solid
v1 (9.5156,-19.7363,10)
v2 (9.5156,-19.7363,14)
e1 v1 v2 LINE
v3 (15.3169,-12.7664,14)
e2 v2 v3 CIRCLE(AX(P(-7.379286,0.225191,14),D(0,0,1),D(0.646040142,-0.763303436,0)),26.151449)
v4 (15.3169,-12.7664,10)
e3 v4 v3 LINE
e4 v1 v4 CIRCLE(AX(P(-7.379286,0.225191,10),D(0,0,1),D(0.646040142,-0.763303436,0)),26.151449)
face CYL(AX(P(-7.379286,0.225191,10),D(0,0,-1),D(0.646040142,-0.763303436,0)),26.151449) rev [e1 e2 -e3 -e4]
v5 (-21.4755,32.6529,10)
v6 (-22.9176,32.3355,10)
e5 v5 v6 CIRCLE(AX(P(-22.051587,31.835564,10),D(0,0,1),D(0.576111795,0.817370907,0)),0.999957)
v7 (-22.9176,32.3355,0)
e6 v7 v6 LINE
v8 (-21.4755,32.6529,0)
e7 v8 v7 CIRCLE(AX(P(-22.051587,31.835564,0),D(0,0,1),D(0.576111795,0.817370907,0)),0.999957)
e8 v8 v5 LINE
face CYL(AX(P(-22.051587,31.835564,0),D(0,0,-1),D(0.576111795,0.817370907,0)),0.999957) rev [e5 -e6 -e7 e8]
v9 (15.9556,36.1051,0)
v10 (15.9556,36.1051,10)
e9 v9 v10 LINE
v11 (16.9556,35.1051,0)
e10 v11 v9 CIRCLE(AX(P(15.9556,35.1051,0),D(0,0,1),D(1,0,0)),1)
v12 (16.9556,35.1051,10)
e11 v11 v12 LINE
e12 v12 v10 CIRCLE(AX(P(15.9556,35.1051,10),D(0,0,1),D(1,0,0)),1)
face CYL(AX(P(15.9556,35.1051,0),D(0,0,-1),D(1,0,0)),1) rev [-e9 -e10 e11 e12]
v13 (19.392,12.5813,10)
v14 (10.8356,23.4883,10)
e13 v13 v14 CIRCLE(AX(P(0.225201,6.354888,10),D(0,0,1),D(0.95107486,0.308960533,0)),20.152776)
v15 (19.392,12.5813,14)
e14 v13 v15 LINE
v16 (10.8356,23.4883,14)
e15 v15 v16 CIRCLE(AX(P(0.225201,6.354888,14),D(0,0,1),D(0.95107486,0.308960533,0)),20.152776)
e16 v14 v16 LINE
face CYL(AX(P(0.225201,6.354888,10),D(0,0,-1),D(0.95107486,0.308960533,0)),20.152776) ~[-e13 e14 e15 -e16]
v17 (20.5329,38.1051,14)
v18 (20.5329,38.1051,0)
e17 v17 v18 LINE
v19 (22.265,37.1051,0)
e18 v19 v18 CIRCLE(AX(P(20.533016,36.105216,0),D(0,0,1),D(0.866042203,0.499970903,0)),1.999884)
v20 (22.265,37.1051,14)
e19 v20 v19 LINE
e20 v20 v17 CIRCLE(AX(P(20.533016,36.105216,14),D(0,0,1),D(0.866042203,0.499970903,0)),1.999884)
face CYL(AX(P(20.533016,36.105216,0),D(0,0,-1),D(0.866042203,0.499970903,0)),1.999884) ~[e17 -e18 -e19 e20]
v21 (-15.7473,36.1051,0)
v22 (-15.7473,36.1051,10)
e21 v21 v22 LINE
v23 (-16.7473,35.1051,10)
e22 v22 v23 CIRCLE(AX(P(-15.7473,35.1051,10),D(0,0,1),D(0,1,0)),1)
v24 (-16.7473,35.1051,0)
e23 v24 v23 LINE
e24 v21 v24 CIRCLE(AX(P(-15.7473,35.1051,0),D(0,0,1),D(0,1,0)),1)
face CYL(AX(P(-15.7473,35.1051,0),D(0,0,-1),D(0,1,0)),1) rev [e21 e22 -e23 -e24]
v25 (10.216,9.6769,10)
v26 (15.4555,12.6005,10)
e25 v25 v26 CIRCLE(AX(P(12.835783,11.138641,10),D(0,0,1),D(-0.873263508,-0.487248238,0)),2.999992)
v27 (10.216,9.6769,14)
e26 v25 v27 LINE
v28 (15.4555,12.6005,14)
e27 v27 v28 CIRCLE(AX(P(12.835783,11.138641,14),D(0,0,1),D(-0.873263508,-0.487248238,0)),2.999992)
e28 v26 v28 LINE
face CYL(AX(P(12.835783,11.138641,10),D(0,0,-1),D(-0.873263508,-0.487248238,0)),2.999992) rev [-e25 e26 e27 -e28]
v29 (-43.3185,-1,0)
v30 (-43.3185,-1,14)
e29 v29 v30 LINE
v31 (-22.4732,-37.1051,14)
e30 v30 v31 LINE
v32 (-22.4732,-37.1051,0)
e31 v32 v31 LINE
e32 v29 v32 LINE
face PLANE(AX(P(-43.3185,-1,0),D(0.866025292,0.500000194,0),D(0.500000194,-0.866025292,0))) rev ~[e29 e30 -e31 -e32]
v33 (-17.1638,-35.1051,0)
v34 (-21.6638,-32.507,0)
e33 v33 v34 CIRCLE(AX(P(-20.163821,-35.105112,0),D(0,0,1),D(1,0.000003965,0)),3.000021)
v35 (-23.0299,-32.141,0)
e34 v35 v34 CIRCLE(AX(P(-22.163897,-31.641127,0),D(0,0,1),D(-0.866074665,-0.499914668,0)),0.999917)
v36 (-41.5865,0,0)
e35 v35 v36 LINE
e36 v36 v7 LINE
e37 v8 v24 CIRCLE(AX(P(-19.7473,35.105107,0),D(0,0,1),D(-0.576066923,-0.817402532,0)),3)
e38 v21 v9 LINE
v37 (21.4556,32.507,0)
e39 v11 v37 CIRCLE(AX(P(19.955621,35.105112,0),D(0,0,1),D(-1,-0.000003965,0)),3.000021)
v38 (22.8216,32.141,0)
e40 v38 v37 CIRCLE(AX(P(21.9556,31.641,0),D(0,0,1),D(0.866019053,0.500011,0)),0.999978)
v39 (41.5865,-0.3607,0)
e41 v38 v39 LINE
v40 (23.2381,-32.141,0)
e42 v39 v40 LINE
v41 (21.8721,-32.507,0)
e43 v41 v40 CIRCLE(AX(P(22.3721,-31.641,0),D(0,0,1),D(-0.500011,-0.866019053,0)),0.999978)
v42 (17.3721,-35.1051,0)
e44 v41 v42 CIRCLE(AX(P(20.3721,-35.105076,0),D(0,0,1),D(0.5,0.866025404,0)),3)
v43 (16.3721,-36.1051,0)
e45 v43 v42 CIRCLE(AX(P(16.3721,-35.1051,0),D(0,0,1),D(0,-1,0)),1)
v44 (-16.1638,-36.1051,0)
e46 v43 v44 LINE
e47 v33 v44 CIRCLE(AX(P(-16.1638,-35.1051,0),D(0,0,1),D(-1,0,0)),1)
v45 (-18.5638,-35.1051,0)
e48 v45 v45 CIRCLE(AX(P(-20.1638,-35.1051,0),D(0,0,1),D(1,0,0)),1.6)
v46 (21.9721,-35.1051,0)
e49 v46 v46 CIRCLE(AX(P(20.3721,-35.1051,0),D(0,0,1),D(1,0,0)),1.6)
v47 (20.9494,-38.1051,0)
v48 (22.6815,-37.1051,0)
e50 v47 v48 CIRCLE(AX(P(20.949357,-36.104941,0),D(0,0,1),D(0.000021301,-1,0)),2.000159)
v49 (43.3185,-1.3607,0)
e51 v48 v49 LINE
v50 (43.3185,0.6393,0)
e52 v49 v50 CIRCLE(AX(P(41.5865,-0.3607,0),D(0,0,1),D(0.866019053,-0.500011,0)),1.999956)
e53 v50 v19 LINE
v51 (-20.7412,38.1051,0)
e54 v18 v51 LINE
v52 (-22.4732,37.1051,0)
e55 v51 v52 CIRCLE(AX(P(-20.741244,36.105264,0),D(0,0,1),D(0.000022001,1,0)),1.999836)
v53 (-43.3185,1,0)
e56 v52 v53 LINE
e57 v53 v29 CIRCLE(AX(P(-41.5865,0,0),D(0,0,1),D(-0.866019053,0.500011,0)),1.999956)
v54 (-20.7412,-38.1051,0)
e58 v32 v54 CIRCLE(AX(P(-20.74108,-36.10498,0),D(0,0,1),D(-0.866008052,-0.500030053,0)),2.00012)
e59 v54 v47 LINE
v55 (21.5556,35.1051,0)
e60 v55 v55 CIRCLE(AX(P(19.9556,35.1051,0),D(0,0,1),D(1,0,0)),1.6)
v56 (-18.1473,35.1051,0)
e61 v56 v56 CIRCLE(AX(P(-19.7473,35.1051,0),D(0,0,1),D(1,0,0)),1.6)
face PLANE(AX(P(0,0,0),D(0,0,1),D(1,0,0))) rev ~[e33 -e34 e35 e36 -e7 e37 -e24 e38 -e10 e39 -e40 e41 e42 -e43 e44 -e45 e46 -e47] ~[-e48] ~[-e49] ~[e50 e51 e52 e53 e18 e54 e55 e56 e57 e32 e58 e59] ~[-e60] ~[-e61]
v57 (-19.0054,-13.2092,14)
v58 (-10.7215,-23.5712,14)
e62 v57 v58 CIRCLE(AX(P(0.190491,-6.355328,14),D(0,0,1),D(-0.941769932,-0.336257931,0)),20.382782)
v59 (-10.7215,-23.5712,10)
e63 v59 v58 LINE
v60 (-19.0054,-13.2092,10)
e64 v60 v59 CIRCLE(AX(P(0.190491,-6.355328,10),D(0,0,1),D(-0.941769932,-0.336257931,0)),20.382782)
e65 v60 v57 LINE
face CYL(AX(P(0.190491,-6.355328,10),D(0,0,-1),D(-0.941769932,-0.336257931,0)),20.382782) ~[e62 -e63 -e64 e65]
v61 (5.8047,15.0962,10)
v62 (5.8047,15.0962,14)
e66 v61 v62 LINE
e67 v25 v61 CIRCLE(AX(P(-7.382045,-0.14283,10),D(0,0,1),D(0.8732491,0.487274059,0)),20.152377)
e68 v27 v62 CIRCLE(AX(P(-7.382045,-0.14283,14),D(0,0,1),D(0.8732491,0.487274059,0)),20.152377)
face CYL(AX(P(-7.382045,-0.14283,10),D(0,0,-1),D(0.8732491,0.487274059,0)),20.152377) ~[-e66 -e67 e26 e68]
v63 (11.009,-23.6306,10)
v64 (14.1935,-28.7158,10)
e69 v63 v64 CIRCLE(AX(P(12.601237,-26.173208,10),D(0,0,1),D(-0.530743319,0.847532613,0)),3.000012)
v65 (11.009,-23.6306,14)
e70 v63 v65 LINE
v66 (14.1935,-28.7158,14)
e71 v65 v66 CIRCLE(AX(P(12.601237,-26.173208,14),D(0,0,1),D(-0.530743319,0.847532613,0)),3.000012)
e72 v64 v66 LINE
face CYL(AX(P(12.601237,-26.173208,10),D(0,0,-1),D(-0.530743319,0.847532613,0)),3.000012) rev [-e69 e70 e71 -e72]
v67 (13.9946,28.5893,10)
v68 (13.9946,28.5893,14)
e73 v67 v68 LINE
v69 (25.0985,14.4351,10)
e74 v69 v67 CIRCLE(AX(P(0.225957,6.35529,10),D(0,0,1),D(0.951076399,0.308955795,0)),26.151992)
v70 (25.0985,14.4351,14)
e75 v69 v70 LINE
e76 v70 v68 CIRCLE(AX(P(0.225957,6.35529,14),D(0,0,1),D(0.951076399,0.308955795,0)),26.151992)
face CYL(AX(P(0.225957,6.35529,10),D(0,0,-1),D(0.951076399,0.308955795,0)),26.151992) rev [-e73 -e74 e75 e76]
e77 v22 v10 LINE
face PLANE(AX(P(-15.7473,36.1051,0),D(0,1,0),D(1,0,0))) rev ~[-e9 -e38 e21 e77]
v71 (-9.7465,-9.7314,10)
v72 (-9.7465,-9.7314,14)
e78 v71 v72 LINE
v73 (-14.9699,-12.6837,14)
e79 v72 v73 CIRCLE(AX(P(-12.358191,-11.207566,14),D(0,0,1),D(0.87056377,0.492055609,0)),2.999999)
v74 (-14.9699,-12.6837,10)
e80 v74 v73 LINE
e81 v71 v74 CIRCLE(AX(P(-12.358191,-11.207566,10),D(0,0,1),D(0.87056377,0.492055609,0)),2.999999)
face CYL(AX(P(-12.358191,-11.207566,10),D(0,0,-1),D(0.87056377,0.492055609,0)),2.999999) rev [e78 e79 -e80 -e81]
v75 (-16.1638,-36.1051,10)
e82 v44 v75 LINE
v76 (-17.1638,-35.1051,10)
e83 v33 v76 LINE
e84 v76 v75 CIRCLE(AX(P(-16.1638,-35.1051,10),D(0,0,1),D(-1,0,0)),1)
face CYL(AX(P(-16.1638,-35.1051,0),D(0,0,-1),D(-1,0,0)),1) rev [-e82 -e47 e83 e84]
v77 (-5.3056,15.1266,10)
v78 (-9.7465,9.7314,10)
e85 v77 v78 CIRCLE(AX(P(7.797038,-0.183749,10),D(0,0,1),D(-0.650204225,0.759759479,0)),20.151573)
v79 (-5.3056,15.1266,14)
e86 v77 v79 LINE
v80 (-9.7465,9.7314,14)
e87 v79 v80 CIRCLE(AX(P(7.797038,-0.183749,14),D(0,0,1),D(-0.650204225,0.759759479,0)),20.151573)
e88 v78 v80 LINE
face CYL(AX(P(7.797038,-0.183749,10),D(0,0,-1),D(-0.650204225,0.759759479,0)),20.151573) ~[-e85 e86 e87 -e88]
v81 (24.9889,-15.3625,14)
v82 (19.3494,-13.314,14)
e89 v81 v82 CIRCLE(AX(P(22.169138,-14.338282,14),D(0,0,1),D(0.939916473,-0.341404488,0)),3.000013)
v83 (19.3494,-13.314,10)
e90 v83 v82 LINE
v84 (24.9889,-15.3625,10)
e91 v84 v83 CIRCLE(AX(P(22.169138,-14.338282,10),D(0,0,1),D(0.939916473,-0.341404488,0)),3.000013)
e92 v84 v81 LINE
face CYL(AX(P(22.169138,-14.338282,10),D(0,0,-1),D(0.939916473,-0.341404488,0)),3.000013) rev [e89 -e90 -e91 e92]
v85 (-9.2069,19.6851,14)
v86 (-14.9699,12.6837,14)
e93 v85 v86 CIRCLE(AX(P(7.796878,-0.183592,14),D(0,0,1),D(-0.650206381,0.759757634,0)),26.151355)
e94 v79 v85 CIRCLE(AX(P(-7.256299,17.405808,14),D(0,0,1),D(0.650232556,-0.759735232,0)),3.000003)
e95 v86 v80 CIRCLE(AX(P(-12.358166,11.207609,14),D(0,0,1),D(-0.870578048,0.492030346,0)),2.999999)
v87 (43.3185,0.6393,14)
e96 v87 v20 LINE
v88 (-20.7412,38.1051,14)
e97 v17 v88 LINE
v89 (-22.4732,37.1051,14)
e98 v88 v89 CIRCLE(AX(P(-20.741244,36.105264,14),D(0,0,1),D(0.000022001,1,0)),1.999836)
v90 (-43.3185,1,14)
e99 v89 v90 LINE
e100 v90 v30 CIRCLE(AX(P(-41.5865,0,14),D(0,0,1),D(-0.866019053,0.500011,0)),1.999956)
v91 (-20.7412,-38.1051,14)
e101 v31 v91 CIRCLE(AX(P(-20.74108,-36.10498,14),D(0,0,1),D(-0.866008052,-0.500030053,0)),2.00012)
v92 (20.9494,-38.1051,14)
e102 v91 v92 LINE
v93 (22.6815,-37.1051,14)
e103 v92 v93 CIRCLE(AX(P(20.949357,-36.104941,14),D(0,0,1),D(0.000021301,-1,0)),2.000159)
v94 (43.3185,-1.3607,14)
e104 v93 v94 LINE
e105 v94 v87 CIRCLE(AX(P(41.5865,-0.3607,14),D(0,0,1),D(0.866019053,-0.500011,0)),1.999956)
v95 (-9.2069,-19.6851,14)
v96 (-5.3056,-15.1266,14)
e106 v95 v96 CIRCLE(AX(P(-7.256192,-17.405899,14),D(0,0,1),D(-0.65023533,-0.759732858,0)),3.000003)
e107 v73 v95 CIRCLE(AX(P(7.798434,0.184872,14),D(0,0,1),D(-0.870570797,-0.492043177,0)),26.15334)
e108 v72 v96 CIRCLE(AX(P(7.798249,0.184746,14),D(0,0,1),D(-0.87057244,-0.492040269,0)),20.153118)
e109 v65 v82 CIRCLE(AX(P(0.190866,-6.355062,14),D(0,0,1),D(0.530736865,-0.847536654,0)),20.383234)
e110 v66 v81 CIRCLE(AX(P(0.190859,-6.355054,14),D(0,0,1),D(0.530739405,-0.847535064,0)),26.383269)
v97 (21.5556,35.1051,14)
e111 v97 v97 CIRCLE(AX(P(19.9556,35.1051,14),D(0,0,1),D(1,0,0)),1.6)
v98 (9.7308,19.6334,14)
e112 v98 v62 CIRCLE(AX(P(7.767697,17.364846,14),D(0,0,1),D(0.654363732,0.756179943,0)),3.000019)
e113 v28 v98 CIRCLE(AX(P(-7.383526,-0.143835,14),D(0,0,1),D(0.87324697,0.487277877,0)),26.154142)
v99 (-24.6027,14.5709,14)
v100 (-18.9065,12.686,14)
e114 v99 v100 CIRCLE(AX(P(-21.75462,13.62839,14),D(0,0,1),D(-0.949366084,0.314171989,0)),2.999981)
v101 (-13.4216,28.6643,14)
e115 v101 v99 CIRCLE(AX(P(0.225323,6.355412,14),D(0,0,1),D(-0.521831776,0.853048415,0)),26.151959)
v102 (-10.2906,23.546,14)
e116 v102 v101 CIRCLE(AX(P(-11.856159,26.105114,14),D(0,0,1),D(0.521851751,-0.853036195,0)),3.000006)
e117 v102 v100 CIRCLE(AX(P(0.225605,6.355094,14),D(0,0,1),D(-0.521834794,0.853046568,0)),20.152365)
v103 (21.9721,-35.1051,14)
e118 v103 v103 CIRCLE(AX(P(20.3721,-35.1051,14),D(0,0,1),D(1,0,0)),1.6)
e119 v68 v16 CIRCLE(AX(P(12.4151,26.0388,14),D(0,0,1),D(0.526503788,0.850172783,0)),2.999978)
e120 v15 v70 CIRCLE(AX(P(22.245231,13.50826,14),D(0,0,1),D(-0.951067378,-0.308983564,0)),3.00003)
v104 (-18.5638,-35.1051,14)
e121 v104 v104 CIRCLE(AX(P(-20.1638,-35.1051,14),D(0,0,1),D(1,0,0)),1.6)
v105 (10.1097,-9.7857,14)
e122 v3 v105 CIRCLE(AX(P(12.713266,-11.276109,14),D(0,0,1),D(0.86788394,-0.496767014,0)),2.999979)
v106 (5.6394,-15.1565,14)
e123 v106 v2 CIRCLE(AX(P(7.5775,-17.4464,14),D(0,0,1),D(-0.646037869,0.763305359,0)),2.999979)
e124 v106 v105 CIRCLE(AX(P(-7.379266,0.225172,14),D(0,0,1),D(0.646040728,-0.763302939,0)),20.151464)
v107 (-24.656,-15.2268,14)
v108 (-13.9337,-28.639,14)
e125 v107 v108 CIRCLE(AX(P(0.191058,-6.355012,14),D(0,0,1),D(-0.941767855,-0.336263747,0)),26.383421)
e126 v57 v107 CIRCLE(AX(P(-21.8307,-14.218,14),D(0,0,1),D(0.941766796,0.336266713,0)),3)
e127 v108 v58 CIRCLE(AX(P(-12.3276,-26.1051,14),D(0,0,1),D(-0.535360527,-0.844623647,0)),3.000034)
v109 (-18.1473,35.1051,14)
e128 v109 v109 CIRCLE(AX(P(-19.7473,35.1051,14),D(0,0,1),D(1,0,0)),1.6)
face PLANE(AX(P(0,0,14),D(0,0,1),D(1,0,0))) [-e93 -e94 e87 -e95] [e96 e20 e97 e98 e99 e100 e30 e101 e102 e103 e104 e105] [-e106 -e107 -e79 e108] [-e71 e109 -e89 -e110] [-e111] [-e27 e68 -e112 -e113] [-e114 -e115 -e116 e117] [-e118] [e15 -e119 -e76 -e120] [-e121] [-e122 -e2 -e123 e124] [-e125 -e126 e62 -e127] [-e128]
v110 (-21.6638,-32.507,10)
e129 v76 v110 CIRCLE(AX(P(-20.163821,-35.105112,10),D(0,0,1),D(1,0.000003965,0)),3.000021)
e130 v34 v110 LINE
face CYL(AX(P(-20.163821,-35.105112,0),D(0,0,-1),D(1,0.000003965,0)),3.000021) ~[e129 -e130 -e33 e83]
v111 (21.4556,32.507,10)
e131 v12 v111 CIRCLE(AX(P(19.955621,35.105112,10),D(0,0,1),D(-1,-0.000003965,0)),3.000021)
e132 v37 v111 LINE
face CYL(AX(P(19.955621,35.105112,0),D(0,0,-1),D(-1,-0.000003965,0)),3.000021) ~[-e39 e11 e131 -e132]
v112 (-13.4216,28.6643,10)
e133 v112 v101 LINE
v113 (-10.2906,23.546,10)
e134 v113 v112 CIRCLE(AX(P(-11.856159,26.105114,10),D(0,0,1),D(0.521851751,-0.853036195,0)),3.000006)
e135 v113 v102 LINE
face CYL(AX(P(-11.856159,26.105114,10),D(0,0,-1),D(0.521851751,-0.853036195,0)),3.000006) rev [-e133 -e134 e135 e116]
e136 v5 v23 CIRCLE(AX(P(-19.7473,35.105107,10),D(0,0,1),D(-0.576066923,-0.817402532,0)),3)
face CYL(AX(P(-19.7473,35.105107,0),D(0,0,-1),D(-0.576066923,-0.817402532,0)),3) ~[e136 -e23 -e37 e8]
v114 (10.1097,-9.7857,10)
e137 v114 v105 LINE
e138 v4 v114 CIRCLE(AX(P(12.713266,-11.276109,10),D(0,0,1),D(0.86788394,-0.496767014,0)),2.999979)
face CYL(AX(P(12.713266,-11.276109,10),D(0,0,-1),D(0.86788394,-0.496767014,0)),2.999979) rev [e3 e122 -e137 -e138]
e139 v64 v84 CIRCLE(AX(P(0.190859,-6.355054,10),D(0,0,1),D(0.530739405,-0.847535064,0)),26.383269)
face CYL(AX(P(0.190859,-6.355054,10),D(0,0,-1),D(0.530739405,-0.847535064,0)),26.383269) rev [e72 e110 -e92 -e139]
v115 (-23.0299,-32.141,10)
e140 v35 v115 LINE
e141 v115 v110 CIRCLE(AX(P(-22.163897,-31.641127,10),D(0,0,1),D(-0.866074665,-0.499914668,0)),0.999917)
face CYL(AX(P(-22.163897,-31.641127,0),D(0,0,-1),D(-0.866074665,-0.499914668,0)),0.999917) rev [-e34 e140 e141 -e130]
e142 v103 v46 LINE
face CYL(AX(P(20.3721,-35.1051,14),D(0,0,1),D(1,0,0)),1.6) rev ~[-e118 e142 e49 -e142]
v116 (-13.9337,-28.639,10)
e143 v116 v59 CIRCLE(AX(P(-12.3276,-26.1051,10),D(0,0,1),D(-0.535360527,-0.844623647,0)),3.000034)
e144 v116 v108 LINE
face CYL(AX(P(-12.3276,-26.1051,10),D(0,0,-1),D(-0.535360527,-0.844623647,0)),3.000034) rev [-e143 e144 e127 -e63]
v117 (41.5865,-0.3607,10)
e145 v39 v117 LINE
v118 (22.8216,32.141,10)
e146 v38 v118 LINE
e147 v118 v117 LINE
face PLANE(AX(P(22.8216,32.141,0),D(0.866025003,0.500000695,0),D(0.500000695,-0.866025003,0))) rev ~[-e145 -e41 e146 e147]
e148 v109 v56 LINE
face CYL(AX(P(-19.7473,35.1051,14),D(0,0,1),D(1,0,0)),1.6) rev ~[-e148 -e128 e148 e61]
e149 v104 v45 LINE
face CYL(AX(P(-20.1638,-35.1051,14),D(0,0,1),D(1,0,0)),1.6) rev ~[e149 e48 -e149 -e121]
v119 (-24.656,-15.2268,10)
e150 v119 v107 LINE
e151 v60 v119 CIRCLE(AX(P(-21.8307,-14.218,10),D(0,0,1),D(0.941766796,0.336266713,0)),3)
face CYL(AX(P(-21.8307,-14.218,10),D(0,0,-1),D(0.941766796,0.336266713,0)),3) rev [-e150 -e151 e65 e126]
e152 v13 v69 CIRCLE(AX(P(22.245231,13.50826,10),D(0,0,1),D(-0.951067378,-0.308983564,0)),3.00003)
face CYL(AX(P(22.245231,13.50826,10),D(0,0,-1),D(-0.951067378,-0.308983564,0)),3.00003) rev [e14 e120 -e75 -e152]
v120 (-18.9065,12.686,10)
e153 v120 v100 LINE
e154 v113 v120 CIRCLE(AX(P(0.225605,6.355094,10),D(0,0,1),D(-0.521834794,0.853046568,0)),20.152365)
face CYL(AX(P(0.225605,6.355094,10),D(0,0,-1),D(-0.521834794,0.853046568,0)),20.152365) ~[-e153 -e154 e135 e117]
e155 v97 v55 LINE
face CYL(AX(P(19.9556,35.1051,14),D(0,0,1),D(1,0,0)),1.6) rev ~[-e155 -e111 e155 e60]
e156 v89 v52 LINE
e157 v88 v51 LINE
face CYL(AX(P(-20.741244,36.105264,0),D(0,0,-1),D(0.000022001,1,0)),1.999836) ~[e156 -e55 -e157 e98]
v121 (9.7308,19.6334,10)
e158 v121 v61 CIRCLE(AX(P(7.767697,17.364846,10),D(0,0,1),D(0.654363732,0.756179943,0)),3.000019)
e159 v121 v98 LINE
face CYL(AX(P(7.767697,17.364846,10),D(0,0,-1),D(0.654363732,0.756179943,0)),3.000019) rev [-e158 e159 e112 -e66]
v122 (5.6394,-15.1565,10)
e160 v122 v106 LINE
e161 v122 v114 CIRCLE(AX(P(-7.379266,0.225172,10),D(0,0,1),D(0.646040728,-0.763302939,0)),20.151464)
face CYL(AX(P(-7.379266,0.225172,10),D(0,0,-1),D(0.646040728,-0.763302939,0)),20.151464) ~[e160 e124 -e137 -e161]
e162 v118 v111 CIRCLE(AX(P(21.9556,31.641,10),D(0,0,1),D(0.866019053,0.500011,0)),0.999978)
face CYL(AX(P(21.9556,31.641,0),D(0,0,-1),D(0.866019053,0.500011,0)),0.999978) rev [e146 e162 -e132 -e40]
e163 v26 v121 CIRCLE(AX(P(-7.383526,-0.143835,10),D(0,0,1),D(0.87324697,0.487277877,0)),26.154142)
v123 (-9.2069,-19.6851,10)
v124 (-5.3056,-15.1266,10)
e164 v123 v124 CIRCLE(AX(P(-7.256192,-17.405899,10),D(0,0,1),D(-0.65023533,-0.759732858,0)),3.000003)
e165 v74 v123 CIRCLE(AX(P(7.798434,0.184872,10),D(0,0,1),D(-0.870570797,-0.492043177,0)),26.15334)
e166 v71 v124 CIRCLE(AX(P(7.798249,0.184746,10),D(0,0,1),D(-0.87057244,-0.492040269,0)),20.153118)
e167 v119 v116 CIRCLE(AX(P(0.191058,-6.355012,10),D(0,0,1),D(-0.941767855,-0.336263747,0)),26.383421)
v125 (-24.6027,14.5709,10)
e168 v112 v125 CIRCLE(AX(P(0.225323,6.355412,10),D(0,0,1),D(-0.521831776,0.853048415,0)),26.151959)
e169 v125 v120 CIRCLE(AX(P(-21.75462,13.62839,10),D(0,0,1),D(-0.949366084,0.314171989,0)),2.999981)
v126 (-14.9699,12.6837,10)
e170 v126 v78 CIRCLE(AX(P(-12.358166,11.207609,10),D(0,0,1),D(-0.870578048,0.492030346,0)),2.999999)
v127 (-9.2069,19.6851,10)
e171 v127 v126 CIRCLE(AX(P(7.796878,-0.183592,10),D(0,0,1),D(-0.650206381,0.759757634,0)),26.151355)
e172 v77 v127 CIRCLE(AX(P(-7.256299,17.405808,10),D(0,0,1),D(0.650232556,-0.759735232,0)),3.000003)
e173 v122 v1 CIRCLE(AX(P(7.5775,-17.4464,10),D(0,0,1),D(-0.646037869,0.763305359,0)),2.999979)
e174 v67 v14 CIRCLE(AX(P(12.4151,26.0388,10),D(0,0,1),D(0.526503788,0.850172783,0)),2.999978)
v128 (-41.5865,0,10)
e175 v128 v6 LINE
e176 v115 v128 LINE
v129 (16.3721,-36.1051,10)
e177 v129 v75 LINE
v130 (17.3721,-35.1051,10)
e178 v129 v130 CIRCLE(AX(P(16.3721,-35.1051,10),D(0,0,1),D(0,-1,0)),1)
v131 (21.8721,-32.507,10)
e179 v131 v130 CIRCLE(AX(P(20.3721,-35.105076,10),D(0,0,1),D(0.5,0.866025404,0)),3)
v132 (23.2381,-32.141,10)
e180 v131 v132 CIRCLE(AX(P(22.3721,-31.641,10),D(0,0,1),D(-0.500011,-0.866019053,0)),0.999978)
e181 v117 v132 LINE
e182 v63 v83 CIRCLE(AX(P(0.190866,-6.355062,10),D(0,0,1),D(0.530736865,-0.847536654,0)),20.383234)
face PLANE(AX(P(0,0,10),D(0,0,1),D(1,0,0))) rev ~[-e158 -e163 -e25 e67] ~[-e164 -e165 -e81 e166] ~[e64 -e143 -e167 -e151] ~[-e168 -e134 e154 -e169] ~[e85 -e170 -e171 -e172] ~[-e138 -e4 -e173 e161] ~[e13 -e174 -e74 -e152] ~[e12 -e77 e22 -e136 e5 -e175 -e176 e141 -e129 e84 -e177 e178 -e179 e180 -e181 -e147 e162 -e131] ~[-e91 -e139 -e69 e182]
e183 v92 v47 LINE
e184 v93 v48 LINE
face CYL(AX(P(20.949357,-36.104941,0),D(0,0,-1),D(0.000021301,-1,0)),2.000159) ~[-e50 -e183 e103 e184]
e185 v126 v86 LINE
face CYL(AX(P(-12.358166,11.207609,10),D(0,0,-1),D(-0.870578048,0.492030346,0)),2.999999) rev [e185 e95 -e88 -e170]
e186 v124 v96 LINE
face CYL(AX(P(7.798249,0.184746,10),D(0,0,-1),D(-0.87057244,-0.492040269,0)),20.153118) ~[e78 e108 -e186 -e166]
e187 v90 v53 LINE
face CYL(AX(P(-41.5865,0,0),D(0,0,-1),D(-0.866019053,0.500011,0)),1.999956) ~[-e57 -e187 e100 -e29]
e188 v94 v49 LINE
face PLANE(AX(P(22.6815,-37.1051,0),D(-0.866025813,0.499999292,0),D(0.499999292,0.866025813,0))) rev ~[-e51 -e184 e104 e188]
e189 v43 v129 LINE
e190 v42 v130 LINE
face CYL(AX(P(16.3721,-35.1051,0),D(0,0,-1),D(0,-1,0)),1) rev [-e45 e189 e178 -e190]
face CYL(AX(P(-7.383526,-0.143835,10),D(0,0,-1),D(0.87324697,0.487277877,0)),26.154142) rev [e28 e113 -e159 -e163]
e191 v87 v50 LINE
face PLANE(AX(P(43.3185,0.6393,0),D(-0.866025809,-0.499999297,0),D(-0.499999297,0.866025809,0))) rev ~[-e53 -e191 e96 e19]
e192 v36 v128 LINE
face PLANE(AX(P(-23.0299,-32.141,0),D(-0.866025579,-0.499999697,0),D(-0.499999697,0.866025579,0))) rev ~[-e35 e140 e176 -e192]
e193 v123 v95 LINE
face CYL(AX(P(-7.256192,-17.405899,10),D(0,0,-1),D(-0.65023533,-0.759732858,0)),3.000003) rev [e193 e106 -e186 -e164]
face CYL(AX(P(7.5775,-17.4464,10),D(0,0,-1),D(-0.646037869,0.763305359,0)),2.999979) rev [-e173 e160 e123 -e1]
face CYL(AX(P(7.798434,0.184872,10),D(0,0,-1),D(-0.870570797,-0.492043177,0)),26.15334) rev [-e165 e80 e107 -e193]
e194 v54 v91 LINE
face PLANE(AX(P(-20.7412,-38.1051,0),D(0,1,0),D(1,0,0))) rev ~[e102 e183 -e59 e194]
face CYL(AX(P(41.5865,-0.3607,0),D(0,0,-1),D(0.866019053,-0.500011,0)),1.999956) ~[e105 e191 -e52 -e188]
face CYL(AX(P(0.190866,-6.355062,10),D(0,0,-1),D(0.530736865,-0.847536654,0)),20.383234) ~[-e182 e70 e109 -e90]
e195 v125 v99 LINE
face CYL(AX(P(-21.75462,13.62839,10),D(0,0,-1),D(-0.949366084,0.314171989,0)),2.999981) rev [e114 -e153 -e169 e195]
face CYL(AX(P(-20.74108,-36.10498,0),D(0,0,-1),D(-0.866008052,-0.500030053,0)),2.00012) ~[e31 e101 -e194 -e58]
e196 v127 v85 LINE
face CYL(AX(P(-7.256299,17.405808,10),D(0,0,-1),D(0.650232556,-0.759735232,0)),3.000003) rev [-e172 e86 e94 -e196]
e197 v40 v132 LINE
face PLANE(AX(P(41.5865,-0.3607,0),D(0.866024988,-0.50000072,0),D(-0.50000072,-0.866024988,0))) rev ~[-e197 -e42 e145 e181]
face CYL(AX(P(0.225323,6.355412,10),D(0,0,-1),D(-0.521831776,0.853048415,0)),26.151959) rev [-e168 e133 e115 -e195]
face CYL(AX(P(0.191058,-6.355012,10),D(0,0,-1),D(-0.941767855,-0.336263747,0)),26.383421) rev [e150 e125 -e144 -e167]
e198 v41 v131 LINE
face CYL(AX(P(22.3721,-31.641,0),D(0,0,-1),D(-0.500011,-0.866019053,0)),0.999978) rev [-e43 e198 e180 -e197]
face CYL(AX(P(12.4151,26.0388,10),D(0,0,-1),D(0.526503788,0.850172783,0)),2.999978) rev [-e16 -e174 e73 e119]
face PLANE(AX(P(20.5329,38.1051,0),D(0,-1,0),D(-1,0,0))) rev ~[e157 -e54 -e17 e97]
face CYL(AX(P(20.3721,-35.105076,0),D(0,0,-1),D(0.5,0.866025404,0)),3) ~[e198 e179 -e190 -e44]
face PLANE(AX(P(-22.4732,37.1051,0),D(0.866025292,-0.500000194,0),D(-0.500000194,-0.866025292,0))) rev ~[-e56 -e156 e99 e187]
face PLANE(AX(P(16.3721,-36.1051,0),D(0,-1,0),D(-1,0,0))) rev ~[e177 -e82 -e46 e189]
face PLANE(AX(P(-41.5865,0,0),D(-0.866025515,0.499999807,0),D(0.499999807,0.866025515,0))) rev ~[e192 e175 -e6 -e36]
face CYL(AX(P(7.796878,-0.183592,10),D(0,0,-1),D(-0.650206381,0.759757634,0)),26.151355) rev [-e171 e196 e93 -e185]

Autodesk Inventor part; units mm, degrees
ref_plane "YZ Plane" through (0, 0, 0) normal (1, 0, 0) x (0, 1, 0)
ref_plane "XZ Plane" through (0, 0, 0) normal (0, 1, 0) x (-1, 0, 0)
ref_plane "XY Plane" through (0, 0, 0) normal (0, 0, 1) x (1, 0, 0)
sketch "Sketch1" plane through (0, 0, 0) normal (0, 0, 1) x (1, 0, 0)
  circle A0 centre (-20.1638, -35.1051) radius 1.25 projected
  circle A1 centre (19.9556, 35.1051) radius 1.25 projected
  circle A2 centre (20.3721, -35.1051) radius 1.25 projected
  circle A3 centre (-19.7473, 35.1051) radius 1.25 projected
  arc A4 (-17.1638, -35.1051) -> (-21.6638, -32.507) centre (-20.1638, -35.1051) ccw projected
  arc A5 (-23.0299, -32.141) -> (-21.6638, -32.507) centre (-22.1638, -31.641) ccw projected
  line L0 (-23.0299, -32.141) -> (-41.5865, 0) projected
  line L1 (-41.5865, 0) -> (-22.9176, 32.3355) projected
  arc A6 (-21.4755, 32.6529) -> (-22.9176, 32.3355) centre (-22.0516, 31.8355) ccw projected
  arc A7 (-21.4755, 32.6529) -> (-16.7473, 35.1051) centre (-19.7473, 35.1051) ccw projected
  arc A8 (-15.7473, 36.1051) -> (-16.7473, 35.1051) centre (-15.7473, 35.1051) ccw projected
  line L2 (-15.7473, 36.1051) -> (15.9556, 36.1051) projected
  arc A9 (16.9556, 35.1051) -> (15.9556, 36.1051) centre (15.9556, 35.1051) ccw projected
  arc A10 (16.9556, 35.1051) -> (21.4556, 32.507) centre (19.9556, 35.1051) ccw projected
  arc A11 (22.8216, 32.141) -> (21.4556, 32.507) centre (21.9556, 31.641) ccw projected
  line L3 (22.8216, 32.141) -> (41.5865, -0.3607) projected
  line L4 (41.5865, -0.3607) -> (23.2381, -32.141) projected
  arc A12 (21.8721, -32.507) -> (23.2381, -32.141) centre (22.3721, -31.641) ccw projected
  arc A13 (21.8721, -32.507) -> (17.3721, -35.1051) centre (20.3721, -35.1051) ccw projected
  arc A14 (16.3721, -36.1051) -> (17.3721, -35.1051) centre (16.3721, -35.1051) ccw projected
  line L5 (16.3721, -36.1051) -> (-16.1638, -36.1051) projected
  arc A15 (-17.1638, -35.1051) -> (-16.1638, -36.1051) centre (-16.1638, -35.1051) ccw projected
  line L6 (-43.3185, -1) -> (-22.4732, -37.1051) projected
  arc A16 (-22.4732, -37.1051) -> (-20.7412, -38.1051) centre (-20.7412, -36.1051) ccw projected
  line L7 (-20.7412, -38.1051) -> (20.9494, -38.1051) projected
  arc A17 (20.9494, -38.1051) -> (22.6815, -37.1051) centre (20.9494, -36.1051) ccw projected
  line L8 (22.6815, -37.1051) -> (43.3185, -1.3607) projected
  arc A18 (43.3185, -1.3607) -> (43.3185, 0.6393) centre (41.5865, -0.3607) ccw projected
  line L9 (43.3185, 0.6393) -> (22.265, 37.1051) projected
  arc A19 (22.265, 37.1051) -> (20.5329, 38.1051) centre (20.5329, 36.1051) ccw projected
  line L10 (20.5329, 38.1051) -> (-20.7412, 38.1051) projected
  arc A20 (-20.7412, 38.1051) -> (-22.4732, 37.1051) centre (-20.7412, 36.1051) ccw projected
  line L11 (-22.4732, 37.1051) -> (-43.3185, 1) projected
  arc A21 (-43.3185, 1) -> (-43.3185, -1) centre (-41.5865, 0) ccw projected
  point P0 (0, 0)
extrude "Extrusion1" add sketch "Sketch1" along normal blind 10
sketch "Sketch2" plane through (0, 0, 10) normal (0, 0, 1) x (1, 0, 0)
  arc A0 (19.392, 12.5813) -> (25.0985, 14.4351) centre (22.2452, 13.5082) ccw projected
  arc A1 (19.392, 12.5813) -> (10.8356, 23.4883) centre (0.2256, 6.3551) ccw projected
  arc A2 (13.9946, 28.5893) -> (10.8356, 23.4883) centre (12.4151, 26.0388) ccw projected
  arc A3 (25.0985, 14.4351) -> (13.9946, 28.5893) centre (0.2256, 6.3551) ccw projected
  arc A4 (-19.0054, -13.2092) -> (-24.656, -15.2268) centre (-21.8307, -14.218) ccw projected
  arc A5 (-19.0054, -13.2092) -> (-10.7215, -23.5712) centre (0.1909, -6.3551) ccw projected
  arc A6 (-13.9337, -28.639) -> (-10.7215, -23.5712) centre (-12.3276, -26.1051) ccw projected
  arc A7 (-24.656, -15.2268) -> (-13.9337, -28.639) centre (0.1909, -6.3551) ccw projected
  arc A8 (10.216, 9.6769) -> (15.4555, 12.6005) centre (12.8358, 11.1387) ccw projected
  arc A9 (10.216, 9.6769) -> (5.8047, 15.0962) centre (-7.382, -0.1428) ccw projected
  arc A10 (9.7308, 19.6334) -> (5.8047, 15.0962) centre (7.7677, 17.3648) ccw projected
  arc A11 (15.4555, 12.6005) -> (9.7308, 19.6334) centre (-7.382, -0.1428) ccw projected
  arc A12 (-5.3056, 15.1266) -> (-9.2069, 19.6851) centre (-7.2562, 17.4058) ccw projected
  arc A13 (-5.3056, 15.1266) -> (-9.7465, 9.7314) centre (7.7976, -0.1843) ccw projected
  arc A14 (-14.9699, 12.6837) -> (-9.7465, 9.7314) centre (-12.3582, 11.2076) ccw projected
  arc A15 (-9.2069, 19.6851) -> (-14.9699, 12.6837) centre (7.7976, -0.1843) ccw projected
  arc A16 (-9.7465, -9.7314) -> (-14.9699, -12.6837) centre (-12.3582, -11.2076) ccw projected
  arc A17 (-9.7465, -9.7314) -> (-5.3056, -15.1266) centre (7.7976, 0.1843) ccw projected
  arc A18 (-9.2069, -19.6851) -> (-5.3056, -15.1266) centre (-7.2562, -17.4058) ccw projected
  arc A19 (-14.9699, -12.6837) -> (-9.2069, -19.6851) centre (7.7976, 0.1843) ccw projected
  arc A20 (5.6394, -15.1565) -> (9.5156, -19.7363) centre (7.5775, -17.4464) ccw projected
  arc A21 (5.6394, -15.1565) -> (10.1097, -9.7857) centre (-7.3799, 0.2258) ccw projected
  arc A22 (15.3169, -12.7664) -> (10.1097, -9.7857) centre (12.7133, -11.2761) ccw projected
  arc A23 (9.5156, -19.7363) -> (15.3169, -12.7664) centre (-7.3799, 0.2258) ccw projected
  arc A24 (11.009, -23.6306) -> (14.1935, -28.7158) centre (12.6012, -26.1732) ccw projected
  arc A25 (11.009, -23.6306) -> (19.3494, -13.314) centre (0.1909, -6.3551) ccw projected
  arc A26 (24.9889, -15.3625) -> (19.3494, -13.314) centre (22.1691, -14.3383) ccw projected
  arc A27 (14.1935, -28.7158) -> (24.9889, -15.3625) centre (0.1909, -6.3551) ccw projected
  arc A28 (-10.2906, 23.546) -> (-13.4216, 28.6643) centre (-11.8561, 26.1051) ccw projected
  arc A29 (-10.2906, 23.546) -> (-18.9065, 12.686) centre (0.2256, 6.3551) ccw projected
  arc A30 (-24.6027, 14.5709) -> (-18.9065, 12.686) centre (-21.7546, 13.6284) ccw projected
  arc A31 (-13.4216, 28.6643) -> (-24.6027, 14.5709) centre (0.2256, 6.3551) ccw projected
  circle A32 centre (-19.7473, 35.1051) radius 1.25 construction
  circle A33 centre (20.3721, -35.1051) radius 1.25 construction
  circle A34 centre (19.9556, 35.1051) radius 1.25 construction
  circle A35 centre (-20.1638, -35.1051) radius 1.25 construction
  line L0 (-43.1103, 0.6393) -> (-22.0567, 37.1051) construction
  arc A36 (-43.1103, 0.6393) -> (-43.1103, -1.3607) centre (-41.3782, -0.3607) ccw construction
  line L1 (-22.4732, -37.1051) -> (-43.1103, -1.3607) construction
  arc A37 (-22.4732, -37.1051) -> (-20.7412, -38.1051) centre (-20.7412, -36.1051) ccw construction
  line L2 (20.9494, -38.1051) -> (-20.7412, -38.1051) construction
  arc A38 (20.9494, -38.1051) -> (22.6815, -37.1051) centre (20.9494, -36.1051) ccw construction
  line L3 (43.5268, -1) -> (22.6815, -37.1051) construction
  arc A39 (43.5268, -1) -> (43.5268, 1) centre (41.7947, 0) ccw construction
  line L4 (22.6815, 37.1051) -> (43.5268, 1) construction
  arc A40 (22.6815, 37.1051) -> (20.9494, 38.1051) centre (20.9494, 36.1051) ccw construction
  line L5 (-20.3247, 38.1051) -> (20.9494, 38.1051) construction
  arc A41 (-20.3247, 38.1051) -> (-22.0567, 37.1051) centre (-20.3247, 36.1051) ccw construction
  arc A42 (-22.4732, -37.1051) -> (-20.7412, -38.1051) centre (-20.7412, -36.1051) ccw projected
  line L6 (-20.7412, -38.1051) -> (20.9494, -38.1051) projected
  arc A43 (20.9494, -38.1051) -> (22.6815, -37.1051) centre (20.9494, -36.1051) ccw projected
  line L7 (22.6815, -37.1051) -> (43.3185, -1.3607) projected
  arc A44 (43.3185, -1.3607) -> (43.3185, 0.6393) centre (41.5865, -0.3607) ccw projected
  line L8 (43.3185, 0.6393) -> (22.265, 37.1051) projected
  arc A45 (22.265, 37.1051) -> (20.5329, 38.1051) centre (20.5329, 36.1051) ccw projected
  line L9 (20.5329, 38.1051) -> (-20.7412, 38.1051) projected
  arc A46 (-20.7412, 38.1051) -> (-22.4732, 37.1051) centre (-20.7412, 36.1051) ccw projected
  line L10 (-22.4732, 37.1051) -> (-43.3185, 1) projected
  arc A47 (-43.3185, 1) -> (-43.3185, -1) centre (-41.5865, 0) ccw projected
  line L11 (-43.3185, -1) -> (-22.4732, -37.1051) projected
  line L12 (16.3721, -36.1051) -> (-16.1638, -36.1051) projected
  arc A48 (-17.1638, -35.1051) -> (-16.1638, -36.1051) centre (-16.1638, -35.1051) ccw projected
  arc A49 (-17.1638, -35.1051) -> (-21.6638, -32.507) centre (-20.1638, -35.1051) ccw projected
  arc A50 (-23.0299, -32.141) -> (-21.6638, -32.507) centre (-22.1638, -31.641) ccw projected
  line L13 (-23.0299, -32.141) -> (-41.5865, 0) projected
  line L14 (-41.5865, 0) -> (-22.9176, 32.3355) projected
  arc A51 (-21.4755, 32.6529) -> (-22.9176, 32.3355) centre (-22.0516, 31.8355) ccw projected
  arc A52 (-21.4755, 32.6529) -> (-16.7473, 35.1051) centre (-19.7473, 35.1051) ccw projected
  arc A53 (-15.7473, 36.1051) -> (-16.7473, 35.1051) centre (-15.7473, 35.1051) ccw projected
  line L15 (-15.7473, 36.1051) -> (15.9556, 36.1051) projected
  arc A54 (16.9556, 35.1051) -> (15.9556, 36.1051) centre (15.9556, 35.1051) ccw projected
  arc A55 (16.9556, 35.1051) -> (21.4556, 32.507) centre (19.9556, 35.1051) ccw projected
  arc A56 (22.8216, 32.141) -> (21.4556, 32.507) centre (21.9556, 31.641) ccw projected
  line L16 (22.8216, 32.141) -> (41.5865, -0.3607) projected
  line L17 (41.5865, -0.3607) -> (23.2381, -32.141) projected
  arc A57 (21.8721, -32.507) -> (23.2381, -32.141) centre (22.3721, -31.641) ccw projected
  arc A58 (21.8721, -32.507) -> (17.3721, -35.1051) centre (20.3721, -35.1051) ccw projected
  arc A59 (16.3721, -36.1051) -> (17.3721, -35.1051) centre (16.3721, -35.1051) ccw projected
  circle A60 centre (-19.7473, 35.1051) radius 1.25 projected
  circle A61 centre (20.3721, -35.1051) radius 1.25 projected
  circle A62 centre (19.9556, 35.1051) radius 1.25 projected
  circle A63 centre (-20.1638, -35.1051) radius 1.25 projected
  point P0 (0, 0)
  dimension "d4" = 2.5
extrude "Extrusion2" add sketch "Sketch2" along normal blind 4 contours L11 A47 L10 A46 L9 A45 L8 A44 L7 A43 L6 A42 | L12 A48 A49 A50 L13 L14 A51 A52 A53 L15 A54 A55 A56 L16 L17 A57 A58 A59
sketch "Sketch3" plane through (0, 0, 14) normal (0, 0, 1) x (1, 0, 0)
  circle A0 centre (-19.7473, 35.1051) radius 1.25 construction
  circle A1 centre (19.9556, 35.1051) radius 1.25 construction
  circle A2 centre (-20.1638, -35.1051) radius 1.25 construction
  circle A3 centre (20.3721, -35.1051) radius 1.25 construction
  circle A4 centre (-19.7473, 35.1051) radius 1.6
  circle A5 centre (19.9556, 35.1051) radius 1.6
  circle A6 centre (-20.1638, -35.1051) radius 1.6
  circle A7 centre (20.3721, -35.1051) radius 1.6
  point P0 (0, 0)
  dimension "d5" = 3.2
extrude "Extrusion3" cut sketch "Sketch3" against normal through all
properties part number "ArmPowerBoardBack"
